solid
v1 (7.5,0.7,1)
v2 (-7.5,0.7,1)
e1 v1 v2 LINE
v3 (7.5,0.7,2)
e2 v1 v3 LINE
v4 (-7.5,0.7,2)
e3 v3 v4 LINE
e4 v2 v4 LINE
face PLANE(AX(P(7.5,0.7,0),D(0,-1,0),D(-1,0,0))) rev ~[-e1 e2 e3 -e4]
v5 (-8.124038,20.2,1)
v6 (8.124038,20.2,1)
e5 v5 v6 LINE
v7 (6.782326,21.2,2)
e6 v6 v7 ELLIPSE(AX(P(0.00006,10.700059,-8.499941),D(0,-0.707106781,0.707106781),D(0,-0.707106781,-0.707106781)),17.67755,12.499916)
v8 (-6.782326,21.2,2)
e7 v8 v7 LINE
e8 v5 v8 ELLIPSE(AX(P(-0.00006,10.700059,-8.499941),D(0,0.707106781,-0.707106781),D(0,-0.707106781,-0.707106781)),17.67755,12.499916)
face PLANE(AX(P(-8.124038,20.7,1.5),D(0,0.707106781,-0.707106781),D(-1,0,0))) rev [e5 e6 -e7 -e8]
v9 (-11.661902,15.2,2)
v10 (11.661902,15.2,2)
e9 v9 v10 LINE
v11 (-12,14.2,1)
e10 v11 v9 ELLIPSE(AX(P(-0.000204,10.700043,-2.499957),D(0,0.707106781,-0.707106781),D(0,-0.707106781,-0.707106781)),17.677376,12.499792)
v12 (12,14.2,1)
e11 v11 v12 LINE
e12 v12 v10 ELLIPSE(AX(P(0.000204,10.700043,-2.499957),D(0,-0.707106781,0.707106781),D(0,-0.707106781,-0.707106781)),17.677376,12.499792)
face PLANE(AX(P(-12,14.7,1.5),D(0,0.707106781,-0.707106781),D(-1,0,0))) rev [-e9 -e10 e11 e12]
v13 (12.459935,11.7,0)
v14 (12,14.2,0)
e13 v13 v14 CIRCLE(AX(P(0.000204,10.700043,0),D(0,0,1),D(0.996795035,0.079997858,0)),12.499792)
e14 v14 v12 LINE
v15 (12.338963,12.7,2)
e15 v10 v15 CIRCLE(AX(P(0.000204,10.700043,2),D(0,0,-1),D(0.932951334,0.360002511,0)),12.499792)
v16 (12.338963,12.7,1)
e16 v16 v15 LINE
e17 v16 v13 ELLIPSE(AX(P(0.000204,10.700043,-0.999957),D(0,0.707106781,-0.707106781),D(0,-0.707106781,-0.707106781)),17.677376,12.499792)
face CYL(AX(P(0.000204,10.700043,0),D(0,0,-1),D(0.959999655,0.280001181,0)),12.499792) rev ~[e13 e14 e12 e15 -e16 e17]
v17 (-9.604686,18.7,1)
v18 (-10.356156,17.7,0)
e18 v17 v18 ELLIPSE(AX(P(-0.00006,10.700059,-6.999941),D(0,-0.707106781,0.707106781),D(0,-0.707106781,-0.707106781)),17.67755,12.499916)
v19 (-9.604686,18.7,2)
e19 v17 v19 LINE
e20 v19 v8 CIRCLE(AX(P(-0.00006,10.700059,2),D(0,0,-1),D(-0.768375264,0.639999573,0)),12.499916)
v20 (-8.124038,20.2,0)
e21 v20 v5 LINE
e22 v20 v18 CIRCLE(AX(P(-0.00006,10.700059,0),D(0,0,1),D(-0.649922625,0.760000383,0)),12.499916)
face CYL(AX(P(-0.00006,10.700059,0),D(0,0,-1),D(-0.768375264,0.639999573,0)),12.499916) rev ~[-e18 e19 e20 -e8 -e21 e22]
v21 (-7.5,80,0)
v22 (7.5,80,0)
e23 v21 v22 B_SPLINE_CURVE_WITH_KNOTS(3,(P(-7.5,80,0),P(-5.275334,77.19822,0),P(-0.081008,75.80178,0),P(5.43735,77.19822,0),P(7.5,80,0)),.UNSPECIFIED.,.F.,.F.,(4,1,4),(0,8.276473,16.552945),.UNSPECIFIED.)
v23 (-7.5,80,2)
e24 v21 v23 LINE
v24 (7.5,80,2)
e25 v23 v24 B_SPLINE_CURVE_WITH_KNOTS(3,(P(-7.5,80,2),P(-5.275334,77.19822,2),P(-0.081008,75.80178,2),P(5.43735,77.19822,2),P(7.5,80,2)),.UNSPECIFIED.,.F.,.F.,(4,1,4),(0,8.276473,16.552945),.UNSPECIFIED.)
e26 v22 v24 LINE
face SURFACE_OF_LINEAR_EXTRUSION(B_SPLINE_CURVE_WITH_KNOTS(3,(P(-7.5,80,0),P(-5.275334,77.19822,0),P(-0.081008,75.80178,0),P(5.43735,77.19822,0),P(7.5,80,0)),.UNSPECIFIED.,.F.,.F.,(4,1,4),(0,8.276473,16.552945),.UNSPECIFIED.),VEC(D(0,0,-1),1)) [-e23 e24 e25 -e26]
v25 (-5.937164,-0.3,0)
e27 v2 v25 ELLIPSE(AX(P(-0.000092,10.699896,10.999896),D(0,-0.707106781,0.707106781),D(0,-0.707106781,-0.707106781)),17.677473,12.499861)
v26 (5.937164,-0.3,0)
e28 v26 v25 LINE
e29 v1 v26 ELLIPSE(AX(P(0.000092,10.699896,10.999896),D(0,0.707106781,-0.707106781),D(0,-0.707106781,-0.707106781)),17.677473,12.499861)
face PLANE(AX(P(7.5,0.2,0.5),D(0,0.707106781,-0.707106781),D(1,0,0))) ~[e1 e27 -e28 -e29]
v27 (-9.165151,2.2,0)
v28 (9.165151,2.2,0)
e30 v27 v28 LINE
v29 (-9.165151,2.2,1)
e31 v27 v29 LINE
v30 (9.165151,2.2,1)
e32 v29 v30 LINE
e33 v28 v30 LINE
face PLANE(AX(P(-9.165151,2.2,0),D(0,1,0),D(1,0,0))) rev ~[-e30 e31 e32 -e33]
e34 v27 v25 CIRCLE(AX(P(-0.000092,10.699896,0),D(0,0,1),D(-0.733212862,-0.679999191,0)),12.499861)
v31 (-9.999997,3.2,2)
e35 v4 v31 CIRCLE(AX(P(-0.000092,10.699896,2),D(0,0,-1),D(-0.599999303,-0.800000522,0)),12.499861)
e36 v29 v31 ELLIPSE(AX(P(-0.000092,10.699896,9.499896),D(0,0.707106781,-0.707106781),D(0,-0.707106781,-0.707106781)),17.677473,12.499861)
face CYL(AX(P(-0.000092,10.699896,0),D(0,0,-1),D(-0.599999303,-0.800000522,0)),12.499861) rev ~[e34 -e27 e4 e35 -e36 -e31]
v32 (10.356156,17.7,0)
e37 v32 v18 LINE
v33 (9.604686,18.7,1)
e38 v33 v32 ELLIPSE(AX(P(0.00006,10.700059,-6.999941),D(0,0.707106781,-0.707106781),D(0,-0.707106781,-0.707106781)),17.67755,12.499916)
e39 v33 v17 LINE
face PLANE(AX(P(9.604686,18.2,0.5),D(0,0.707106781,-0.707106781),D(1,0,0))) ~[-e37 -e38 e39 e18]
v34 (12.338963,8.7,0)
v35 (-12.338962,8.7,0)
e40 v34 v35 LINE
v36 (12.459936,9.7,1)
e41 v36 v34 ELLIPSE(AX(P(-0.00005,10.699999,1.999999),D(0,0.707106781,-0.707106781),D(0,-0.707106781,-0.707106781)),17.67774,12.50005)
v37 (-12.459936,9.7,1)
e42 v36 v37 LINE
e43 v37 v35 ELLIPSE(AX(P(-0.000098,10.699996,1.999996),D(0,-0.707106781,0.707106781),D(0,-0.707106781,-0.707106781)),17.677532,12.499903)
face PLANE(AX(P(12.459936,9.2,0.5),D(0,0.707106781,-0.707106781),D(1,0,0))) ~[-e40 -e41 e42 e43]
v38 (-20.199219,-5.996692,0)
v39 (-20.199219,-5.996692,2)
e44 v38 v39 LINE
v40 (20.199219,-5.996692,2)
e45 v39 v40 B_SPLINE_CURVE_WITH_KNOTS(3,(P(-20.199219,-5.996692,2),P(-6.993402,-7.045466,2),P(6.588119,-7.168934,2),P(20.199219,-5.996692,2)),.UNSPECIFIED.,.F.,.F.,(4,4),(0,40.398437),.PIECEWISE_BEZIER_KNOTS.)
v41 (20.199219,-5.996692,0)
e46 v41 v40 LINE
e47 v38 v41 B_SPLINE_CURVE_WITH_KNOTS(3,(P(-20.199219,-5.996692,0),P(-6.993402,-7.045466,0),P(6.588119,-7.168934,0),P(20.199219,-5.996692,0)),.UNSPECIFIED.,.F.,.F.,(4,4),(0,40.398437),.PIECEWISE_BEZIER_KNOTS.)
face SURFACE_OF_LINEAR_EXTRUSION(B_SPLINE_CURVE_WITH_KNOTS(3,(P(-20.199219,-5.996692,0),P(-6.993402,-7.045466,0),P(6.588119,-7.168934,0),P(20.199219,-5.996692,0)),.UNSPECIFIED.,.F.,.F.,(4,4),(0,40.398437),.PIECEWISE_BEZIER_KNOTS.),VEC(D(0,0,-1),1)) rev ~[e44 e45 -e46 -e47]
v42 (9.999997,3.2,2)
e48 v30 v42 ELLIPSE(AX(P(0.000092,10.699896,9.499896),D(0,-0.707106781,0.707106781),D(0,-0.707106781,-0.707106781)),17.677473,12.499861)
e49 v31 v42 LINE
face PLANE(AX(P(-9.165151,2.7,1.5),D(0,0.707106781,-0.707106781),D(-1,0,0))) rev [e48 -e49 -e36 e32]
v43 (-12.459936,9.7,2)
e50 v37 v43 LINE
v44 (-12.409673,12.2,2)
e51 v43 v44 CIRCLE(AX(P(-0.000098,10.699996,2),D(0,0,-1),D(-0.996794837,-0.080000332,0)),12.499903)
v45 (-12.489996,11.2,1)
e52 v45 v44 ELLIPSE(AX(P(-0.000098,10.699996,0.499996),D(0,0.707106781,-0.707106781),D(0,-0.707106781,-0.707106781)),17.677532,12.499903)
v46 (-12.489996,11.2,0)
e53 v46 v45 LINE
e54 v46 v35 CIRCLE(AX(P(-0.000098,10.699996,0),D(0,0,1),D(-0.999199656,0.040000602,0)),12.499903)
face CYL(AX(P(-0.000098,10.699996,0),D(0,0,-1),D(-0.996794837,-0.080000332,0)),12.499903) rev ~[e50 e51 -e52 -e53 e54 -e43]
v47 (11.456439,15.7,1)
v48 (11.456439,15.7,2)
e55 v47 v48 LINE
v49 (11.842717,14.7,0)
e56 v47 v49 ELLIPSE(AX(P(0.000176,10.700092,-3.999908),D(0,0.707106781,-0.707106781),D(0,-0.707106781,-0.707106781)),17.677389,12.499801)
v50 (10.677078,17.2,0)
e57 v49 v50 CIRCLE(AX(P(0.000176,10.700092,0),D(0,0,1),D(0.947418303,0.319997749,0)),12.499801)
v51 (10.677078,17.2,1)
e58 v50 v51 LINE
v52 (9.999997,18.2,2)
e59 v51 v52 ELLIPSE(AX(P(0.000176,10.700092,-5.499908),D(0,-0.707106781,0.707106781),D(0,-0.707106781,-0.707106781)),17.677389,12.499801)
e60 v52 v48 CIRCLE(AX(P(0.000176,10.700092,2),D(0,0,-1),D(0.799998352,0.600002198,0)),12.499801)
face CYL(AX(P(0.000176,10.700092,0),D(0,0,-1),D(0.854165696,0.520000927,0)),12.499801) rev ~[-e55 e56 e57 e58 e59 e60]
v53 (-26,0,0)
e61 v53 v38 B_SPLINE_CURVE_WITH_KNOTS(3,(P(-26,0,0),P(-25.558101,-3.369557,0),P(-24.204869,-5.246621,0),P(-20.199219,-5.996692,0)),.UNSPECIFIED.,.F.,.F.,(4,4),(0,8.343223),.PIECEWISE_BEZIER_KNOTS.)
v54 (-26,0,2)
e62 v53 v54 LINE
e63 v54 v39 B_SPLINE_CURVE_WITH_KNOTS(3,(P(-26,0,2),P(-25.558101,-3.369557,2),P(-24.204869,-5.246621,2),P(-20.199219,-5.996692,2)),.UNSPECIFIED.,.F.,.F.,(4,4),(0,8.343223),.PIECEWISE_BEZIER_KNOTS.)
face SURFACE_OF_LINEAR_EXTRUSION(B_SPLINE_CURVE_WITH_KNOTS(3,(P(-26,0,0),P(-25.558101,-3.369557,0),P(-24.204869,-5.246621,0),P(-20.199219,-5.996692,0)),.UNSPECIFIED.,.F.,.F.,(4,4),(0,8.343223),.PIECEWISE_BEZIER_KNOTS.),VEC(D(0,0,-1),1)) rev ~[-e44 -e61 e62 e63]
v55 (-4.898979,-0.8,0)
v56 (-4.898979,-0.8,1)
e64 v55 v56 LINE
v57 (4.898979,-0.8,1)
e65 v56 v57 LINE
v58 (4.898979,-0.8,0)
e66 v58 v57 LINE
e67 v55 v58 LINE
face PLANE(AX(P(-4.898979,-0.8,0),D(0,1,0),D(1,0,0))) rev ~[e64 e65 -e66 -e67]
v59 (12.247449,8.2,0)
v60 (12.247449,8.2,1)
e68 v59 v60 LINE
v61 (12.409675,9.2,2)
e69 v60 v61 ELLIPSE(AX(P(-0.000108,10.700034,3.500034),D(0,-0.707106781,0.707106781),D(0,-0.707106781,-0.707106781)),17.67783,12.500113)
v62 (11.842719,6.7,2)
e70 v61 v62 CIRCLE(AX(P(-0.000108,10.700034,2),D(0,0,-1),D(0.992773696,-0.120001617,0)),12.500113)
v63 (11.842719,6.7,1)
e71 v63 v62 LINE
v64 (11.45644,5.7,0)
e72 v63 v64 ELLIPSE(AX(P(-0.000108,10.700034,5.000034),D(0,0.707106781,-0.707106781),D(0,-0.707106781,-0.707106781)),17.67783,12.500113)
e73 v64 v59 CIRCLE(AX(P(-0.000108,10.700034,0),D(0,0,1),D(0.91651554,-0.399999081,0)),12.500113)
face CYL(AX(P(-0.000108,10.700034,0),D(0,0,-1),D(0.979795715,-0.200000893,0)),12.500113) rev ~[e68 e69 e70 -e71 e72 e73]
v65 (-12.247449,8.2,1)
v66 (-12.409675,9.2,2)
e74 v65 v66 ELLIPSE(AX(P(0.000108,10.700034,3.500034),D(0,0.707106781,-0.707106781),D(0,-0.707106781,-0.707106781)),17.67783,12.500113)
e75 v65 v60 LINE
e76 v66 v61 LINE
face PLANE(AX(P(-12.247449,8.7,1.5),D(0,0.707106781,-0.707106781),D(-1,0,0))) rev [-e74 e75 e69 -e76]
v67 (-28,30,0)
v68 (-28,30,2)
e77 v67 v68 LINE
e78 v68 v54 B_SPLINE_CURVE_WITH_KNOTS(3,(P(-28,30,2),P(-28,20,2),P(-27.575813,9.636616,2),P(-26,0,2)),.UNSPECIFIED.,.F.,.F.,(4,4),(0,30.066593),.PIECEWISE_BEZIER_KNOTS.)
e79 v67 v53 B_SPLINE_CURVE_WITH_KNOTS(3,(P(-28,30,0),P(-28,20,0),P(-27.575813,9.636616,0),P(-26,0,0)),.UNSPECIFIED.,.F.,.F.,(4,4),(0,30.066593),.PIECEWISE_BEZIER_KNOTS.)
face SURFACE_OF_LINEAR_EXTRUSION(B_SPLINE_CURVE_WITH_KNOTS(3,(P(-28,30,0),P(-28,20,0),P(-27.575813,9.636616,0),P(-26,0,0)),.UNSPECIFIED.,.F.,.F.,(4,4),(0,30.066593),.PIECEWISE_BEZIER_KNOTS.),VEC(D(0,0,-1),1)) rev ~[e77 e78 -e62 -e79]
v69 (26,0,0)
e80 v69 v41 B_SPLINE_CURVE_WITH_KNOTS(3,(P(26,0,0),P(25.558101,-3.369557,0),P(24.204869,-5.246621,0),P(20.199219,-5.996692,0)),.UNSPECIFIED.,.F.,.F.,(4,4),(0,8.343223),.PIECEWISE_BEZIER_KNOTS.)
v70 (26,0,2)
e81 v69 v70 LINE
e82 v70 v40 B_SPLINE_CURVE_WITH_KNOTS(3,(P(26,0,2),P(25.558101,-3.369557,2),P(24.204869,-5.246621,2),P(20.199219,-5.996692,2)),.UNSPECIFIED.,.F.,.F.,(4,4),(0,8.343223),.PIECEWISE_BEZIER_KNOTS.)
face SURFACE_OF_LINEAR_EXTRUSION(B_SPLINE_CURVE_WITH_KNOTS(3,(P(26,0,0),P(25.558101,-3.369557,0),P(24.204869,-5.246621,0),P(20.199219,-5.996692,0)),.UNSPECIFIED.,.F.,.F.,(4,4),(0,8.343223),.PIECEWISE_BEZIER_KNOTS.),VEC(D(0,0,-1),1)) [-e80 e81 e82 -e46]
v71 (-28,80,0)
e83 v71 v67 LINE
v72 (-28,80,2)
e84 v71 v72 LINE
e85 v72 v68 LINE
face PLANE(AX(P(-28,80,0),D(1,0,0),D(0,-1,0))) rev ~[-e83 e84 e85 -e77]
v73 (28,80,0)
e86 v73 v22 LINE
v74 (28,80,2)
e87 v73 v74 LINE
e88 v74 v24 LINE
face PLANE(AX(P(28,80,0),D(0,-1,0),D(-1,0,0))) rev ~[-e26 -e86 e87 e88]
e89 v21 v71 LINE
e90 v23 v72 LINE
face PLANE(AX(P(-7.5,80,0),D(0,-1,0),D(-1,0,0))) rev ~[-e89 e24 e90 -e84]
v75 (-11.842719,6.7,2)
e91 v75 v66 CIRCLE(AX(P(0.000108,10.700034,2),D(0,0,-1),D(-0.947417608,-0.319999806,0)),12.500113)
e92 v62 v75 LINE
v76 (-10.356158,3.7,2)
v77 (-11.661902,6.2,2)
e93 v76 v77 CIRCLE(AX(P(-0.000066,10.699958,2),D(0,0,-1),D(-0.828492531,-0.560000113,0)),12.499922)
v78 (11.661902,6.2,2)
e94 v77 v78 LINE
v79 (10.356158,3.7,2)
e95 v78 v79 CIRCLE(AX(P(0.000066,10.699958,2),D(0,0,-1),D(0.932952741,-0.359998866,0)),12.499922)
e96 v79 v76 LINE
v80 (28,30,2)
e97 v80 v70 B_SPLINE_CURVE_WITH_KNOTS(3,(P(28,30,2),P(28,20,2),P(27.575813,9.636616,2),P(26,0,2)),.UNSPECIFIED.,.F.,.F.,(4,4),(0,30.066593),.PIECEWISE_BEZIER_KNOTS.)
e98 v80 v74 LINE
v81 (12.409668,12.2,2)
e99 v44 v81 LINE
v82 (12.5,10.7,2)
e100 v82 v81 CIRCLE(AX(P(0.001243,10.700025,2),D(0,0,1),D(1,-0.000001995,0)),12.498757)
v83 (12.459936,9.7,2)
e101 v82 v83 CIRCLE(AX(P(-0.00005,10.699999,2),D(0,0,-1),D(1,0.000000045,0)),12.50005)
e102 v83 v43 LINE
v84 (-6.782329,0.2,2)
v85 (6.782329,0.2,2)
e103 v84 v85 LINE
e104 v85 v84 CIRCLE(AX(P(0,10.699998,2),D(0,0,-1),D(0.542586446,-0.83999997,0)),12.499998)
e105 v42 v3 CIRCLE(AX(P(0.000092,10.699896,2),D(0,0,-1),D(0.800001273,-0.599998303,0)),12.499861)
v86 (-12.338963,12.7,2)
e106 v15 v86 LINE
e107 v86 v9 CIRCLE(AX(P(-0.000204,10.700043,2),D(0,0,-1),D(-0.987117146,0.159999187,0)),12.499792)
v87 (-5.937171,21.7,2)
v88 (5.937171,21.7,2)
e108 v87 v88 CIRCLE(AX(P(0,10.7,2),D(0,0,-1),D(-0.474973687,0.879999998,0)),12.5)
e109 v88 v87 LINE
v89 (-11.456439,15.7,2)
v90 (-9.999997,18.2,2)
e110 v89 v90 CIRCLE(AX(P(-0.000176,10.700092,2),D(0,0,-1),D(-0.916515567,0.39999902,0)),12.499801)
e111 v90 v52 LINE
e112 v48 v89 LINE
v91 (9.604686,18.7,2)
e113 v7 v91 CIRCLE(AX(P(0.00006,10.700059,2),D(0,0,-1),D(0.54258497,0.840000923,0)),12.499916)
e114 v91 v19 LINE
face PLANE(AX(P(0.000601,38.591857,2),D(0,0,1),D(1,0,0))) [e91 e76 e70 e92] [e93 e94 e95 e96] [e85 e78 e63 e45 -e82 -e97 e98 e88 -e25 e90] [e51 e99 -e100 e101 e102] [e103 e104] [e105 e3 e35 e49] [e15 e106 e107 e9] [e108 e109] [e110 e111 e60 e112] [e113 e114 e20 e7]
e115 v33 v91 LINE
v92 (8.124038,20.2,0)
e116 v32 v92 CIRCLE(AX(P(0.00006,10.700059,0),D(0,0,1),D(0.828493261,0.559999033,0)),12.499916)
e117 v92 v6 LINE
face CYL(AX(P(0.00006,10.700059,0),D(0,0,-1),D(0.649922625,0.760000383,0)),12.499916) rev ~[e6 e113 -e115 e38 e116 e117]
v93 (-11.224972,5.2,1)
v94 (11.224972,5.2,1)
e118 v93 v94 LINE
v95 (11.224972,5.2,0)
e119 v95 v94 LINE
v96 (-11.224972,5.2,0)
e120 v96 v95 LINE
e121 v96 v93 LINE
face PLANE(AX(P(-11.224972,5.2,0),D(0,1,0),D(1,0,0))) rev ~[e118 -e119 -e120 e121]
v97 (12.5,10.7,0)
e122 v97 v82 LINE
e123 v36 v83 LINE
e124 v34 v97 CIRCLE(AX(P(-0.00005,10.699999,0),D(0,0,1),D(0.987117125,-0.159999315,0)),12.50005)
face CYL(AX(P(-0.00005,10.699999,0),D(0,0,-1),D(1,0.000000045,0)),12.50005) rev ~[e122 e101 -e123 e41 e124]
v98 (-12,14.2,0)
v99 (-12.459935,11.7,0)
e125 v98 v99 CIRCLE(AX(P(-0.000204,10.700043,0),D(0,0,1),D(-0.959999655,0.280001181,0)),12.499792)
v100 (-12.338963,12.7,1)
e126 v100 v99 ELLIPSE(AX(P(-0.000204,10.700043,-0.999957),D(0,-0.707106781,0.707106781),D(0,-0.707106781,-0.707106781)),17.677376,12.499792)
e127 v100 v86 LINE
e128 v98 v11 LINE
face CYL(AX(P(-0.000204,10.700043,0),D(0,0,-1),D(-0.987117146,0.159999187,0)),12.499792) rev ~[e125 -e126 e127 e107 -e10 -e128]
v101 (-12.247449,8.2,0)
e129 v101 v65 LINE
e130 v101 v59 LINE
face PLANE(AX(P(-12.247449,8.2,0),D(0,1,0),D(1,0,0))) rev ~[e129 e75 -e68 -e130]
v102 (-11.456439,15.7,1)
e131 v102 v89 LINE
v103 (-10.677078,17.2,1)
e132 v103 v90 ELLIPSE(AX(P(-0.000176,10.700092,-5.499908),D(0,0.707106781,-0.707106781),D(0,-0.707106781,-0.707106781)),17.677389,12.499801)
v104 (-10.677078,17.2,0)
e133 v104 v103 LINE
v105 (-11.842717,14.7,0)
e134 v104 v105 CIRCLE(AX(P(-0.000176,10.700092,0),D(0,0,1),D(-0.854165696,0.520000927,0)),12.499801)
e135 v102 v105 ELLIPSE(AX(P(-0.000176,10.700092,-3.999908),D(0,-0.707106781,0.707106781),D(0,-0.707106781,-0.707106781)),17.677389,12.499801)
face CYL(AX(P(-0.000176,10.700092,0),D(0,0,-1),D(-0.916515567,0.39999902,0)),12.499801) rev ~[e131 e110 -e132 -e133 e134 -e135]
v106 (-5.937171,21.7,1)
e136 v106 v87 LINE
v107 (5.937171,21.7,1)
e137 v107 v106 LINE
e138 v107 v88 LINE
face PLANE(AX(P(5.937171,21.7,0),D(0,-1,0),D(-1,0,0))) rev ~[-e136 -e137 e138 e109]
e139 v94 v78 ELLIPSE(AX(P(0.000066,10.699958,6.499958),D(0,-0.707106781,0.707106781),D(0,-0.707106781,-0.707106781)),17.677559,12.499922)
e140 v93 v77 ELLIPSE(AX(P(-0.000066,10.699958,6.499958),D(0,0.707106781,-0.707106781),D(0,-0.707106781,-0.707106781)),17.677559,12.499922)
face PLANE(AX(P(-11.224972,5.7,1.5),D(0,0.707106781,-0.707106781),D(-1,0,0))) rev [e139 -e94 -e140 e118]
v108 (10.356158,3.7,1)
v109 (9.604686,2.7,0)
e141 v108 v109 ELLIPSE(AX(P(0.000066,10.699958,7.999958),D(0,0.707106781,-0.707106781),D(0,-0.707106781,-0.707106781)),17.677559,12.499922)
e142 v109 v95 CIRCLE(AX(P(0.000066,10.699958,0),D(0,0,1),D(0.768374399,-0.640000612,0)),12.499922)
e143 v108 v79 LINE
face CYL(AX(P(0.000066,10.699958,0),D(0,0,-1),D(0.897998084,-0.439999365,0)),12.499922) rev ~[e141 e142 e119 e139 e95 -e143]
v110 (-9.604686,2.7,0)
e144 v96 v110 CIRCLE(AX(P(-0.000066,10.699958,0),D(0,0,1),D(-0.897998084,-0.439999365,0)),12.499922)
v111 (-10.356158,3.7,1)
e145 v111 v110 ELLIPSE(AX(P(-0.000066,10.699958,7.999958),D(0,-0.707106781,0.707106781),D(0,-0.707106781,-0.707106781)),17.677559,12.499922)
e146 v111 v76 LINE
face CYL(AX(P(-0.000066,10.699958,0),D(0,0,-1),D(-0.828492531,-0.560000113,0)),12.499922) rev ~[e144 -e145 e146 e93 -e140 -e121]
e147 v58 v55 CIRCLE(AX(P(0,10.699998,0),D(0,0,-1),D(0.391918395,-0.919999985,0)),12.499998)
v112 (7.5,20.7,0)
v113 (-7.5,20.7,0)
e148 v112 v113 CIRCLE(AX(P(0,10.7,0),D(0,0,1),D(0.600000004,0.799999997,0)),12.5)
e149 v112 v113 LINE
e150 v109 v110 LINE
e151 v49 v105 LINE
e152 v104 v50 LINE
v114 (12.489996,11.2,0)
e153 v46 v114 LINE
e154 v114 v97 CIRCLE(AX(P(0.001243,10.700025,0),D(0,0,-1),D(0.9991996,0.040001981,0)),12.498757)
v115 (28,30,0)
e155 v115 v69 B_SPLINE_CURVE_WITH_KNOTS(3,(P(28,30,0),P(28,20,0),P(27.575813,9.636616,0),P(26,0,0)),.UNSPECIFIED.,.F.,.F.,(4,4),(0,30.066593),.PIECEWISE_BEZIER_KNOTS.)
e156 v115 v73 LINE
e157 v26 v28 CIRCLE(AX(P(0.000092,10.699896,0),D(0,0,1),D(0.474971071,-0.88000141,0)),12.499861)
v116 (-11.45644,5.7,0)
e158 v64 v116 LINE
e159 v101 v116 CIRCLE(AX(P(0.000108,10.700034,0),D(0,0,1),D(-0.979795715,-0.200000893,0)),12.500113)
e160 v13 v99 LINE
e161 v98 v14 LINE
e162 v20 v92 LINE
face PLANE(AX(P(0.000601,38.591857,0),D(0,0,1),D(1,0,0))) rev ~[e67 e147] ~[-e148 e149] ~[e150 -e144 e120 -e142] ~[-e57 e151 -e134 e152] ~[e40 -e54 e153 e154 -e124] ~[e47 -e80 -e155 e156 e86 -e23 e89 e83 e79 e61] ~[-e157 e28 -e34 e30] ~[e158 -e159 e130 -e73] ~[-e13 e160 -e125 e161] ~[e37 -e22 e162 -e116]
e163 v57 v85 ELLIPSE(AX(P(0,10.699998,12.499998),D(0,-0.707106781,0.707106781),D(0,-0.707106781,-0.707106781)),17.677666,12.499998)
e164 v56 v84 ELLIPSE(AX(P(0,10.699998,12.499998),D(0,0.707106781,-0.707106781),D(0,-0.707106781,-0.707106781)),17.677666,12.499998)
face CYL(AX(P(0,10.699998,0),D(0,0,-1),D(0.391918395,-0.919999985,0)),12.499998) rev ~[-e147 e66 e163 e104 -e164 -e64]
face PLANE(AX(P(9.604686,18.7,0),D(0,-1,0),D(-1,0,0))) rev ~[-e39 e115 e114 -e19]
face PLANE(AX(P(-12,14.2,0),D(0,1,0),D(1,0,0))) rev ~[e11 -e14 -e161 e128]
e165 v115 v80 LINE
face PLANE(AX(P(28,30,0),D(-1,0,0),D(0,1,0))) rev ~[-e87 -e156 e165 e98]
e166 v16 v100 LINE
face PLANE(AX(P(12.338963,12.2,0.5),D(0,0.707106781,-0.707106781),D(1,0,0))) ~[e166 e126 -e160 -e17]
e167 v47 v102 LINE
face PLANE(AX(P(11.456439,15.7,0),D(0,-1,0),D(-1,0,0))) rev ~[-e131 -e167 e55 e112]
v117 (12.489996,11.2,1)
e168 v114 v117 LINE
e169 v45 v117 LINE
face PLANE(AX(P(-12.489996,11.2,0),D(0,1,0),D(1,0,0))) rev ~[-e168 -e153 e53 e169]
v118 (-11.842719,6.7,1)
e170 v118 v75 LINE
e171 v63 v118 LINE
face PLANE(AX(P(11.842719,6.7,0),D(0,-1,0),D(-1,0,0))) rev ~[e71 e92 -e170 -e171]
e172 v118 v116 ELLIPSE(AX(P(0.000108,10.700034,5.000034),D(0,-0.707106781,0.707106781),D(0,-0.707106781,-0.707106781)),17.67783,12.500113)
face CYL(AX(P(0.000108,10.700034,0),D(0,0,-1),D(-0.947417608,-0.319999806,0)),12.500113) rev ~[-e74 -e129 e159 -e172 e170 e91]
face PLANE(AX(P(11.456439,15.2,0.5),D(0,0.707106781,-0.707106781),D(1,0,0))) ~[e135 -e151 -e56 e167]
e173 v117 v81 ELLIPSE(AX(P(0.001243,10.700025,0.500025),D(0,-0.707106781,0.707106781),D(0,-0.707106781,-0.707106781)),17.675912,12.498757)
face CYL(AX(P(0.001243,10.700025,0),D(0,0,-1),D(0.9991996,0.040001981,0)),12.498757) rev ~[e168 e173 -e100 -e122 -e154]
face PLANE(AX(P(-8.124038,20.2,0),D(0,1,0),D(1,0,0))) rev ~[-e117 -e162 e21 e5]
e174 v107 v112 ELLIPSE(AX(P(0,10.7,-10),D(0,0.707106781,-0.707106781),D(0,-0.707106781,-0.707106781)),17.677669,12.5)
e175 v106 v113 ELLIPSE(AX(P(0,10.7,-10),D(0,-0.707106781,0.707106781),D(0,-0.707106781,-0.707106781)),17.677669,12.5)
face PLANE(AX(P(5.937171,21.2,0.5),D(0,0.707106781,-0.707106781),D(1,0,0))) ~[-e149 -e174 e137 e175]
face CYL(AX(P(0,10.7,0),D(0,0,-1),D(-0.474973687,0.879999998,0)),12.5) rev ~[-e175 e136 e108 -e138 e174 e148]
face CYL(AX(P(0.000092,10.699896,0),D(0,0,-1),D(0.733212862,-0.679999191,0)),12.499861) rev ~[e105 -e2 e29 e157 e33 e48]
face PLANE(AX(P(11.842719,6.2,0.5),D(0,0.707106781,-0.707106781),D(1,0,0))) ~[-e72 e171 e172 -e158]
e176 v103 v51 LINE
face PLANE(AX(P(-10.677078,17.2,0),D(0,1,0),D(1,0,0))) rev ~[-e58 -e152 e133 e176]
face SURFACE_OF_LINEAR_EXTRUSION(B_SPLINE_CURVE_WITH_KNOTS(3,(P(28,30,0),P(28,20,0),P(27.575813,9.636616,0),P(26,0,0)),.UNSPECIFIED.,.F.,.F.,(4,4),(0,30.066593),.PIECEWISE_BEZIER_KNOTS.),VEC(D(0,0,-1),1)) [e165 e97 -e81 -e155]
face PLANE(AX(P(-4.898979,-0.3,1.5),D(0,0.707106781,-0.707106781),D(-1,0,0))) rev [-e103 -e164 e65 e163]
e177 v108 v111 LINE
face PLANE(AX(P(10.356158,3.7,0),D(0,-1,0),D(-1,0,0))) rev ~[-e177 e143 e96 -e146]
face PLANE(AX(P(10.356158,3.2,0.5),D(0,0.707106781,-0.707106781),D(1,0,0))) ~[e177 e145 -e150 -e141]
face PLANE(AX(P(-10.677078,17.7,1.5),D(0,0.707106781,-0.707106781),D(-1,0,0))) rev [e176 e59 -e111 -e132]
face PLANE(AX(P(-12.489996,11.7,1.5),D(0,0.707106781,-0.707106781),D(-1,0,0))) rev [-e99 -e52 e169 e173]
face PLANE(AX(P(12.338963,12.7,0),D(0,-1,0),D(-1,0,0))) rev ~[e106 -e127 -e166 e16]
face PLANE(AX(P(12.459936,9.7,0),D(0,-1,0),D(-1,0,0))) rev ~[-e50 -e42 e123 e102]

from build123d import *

# Parameters (mm, degrees)
F1_DEPTH = 2
F2_SIZE  = 1


with BuildPart() as f1:
    # F0 (on Top) → F1 (new body)
    with BuildSketch(Plane.XY):
        with BuildLine():
            Line((-7.5, 80), (-28, 80))
            Line((-28, 80), (-28, 30))
            add(Edge.make_bspline(
                [(-28, 30), (-28, 20), (-27.575813, 9.636616), (-26, 0)],
                knots=[0, 0, 0, 0, 30.066593, 30.066593, 30.066593, 30.066593], degree=3))
            add(Edge.make_bspline(
                [(-26, 0), (-25.558101, -3.369557), (-24.204869, -5.246621), (-20.199219, -5.996692)],
                knots=[0, 0, 0, 0, 8.343223, 8.343223, 8.343223, 8.343223], degree=3))
            add(Edge.make_bspline(
                [(-20.199219, -5.996692), (-6.993402, -7.045466), (6.588119, -7.168934), (20.199219, -5.996692)],
                knots=[0, 0, 0, 0, 40.398437, 40.398437, 40.398437, 40.398437], degree=3))
            add(Edge.make_bspline(
                [(26, 0), (25.558101, -3.369557), (24.204869, -5.246621), (20.199219, -5.996692)],
                knots=[0, 0, 0, 0, 8.343223, 8.343223, 8.343223, 8.343223], degree=3))
            add(Edge.make_bspline(
                [(28, 30), (28, 20), (27.575813, 9.636616), (26, 0)],
                knots=[0, 0, 0, 0, 30.066593, 30.066593, 30.066593, 30.066593], degree=3))
            Line((28, 30), (28, 80))
            Line((28, 80), (7.5, 80))
            add(Edge.make_bspline(
                [(-7.5, 80), (-5.275334, 77.19822), (-0.081008, 75.80178), (5.43735, 77.19822), (7.5, 80)],
                knots=[0, 0, 0, 0, 8.276473, 16.552945, 16.552945, 16.552945, 16.552945], degree=3))
        make_face()
        with BuildLine():
            ThreePointArc((12.489996, 11.2), (12.497499, 10.95005), (12.5, 10.7))
            ThreePointArc((12.5, 10.7), (12.48998, 10.199599), (12.459936, 9.7))
            ThreePointArc((12.459936, 9.7), (12.376438, 8.946778), (12.247449, 8.2))
            ThreePointArc((12.247449, 8.2), (12.068411, 7.443706), (11.842719, 6.7))
            ThreePointArc((11.842719, 6.7), (11.558205, 5.939968), (11.224972, 5.2))
            ThreePointArc((11.224972, 5.2), (10.816598, 4.434921), (10.356158, 3.7))
            ThreePointArc((10.356158, 3.7), (9.789427, 2.927155), (9.165151, 2.2))
            ThreePointArc((9.165151, 2.2), (8.366261, 1.412606), (7.5, 0.7))
            ThreePointArc((7.5, 0.7), (6.244692, -0.128381), (4.898979, -0.8))
            ThreePointArc((4.898979, -0.8), (0, -1.8), (-4.898979, -0.8))
            ThreePointArc((-4.898979, -0.8), (-6.244692, -0.128381), (-7.5, 0.7))
            ThreePointArc((-7.5, 0.7), (-8.366261, 1.412606), (-9.165151, 2.2))
            ThreePointArc((-9.165151, 2.2), (-9.789427, 2.927155), (-10.356158, 3.7))
            ThreePointArc((-10.356158, 3.7), (-10.816598, 4.434921), (-11.224972, 5.2))
            ThreePointArc((-11.224972, 5.2), (-11.558205, 5.939968), (-11.842719, 6.7))
            ThreePointArc((-11.842719, 6.7), (-12.068411, 7.443706), (-12.247449, 8.2))
            ThreePointArc((-12.247449, 8.2), (-12.376438, 8.946778), (-12.459936, 9.7))
            ThreePointArc((-12.459936, 9.7), (-12.497491, 10.449549), (-12.489996, 11.2))
            ThreePointArc((-12.489996, 11.2), (-12.437114, 11.952279), (-12.338963, 12.7))
            ThreePointArc((-12.338963, 12.7), (-12.192571, 13.455218), (-12, 14.2))
            ThreePointArc((-12, 14.2), (-11.752176, 14.958681), (-11.456439, 15.7))
            ThreePointArc((-11.456439, 15.7), (-11.092144, 16.463189), (-10.677078, 17.2))
            ThreePointArc((-10.677078, 17.2), (-10.168579, 17.969801), (-9.604686, 18.7))
            ThreePointArc((-9.604686, 18.7), (-8.896034, 19.481263), (-8.124038, 20.2))
            ThreePointArc((-8.124038, 20.2), (-7.070495, 21.008157), (-5.937171, 21.7))
            ThreePointArc((-5.937171, 21.7), (0, 23.2), (5.937171, 21.7))
            ThreePointArc((5.937171, 21.7), (7.070495, 21.008157), (8.124038, 20.2))
            ThreePointArc((8.124038, 20.2), (8.896034, 19.481263), (9.604686, 18.7))
            ThreePointArc((9.604686, 18.7), (10.168579, 17.969801), (10.677078, 17.2))
            ThreePointArc((10.677078, 17.2), (11.092144, 16.463189), (11.456439, 15.7))
            ThreePointArc((11.456439, 15.7), (11.752176, 14.958681), (12, 14.2))
            ThreePointArc((12, 14.2), (12.192571, 13.455218), (12.338963, 12.7))
            ThreePointArc((12.338963, 12.7), (12.437114, 11.952279), (12.489996, 11.2))
        make_face(mode=Mode.SUBTRACT)
        with BuildLine():
            Line((-8.124038, 20.2), (8.124038, 20.2))
            ThreePointArc((8.124038, 20.2), (7.070495, 21.008157), (5.937171, 21.7))
            Line((5.937171, 21.7), (-5.937171, 21.7))
            ThreePointArc((-5.937171, 21.7), (-7.070495, 21.008157), (-8.124038, 20.2))
        make_face()
        with BuildLine():
            Line((-10.677078, 17.2), (10.677078, 17.2))
            ThreePointArc((10.677078, 17.2), (10.168579, 17.969801), (9.604686, 18.7))
            Line((9.604686, 18.7), (-9.604686, 18.7))
            ThreePointArc((-9.604686, 18.7), (-10.168579, 17.969801), (-10.677078, 17.2))
        make_face()
        with BuildLine():
            Line((-12, 14.2), (12, 14.2))
            ThreePointArc((12, 14.2), (11.752176, 14.958681), (11.456439, 15.7))
            Line((11.456439, 15.7), (-11.456439, 15.7))
            ThreePointArc((-11.456439, 15.7), (-11.752176, 14.958681), (-12, 14.2))
        make_face()
        with BuildLine():
            Line((-12.489996, 11.2), (12.489996, 11.2))
            ThreePointArc((12.489996, 11.2), (12.437114, 11.952279), (12.338963, 12.7))
            Line((12.338963, 12.7), (-12.338963, 12.7))
            ThreePointArc((-12.338963, 12.7), (-12.437114, 11.952279), (-12.489996, 11.2))
        make_face()
        with BuildLine():
            ThreePointArc((12.247449, 8.2), (12.376438, 8.946778), (12.459936, 9.7))
            Line((12.459936, 9.7), (-12.459936, 9.7))
            ThreePointArc((-12.459936, 9.7), (-12.376438, 8.946778), (-12.247449, 8.2))
            Line((-12.247449, 8.2), (12.247449, 8.2))
        make_face()
        with BuildLine():
            ThreePointArc((11.224972, 5.2), (11.558205, 5.939968), (11.842719, 6.7))
            Line((11.842719, 6.7), (-11.842719, 6.7))
            ThreePointArc((-11.842719, 6.7), (-11.558205, 5.939968), (-11.224972, 5.2))
            Line((-11.224972, 5.2), (11.224972, 5.2))
        make_face()
        with BuildLine():
            ThreePointArc((9.165151, 2.2), (9.789427, 2.927155), (10.356158, 3.7))
            Line((10.356158, 3.7), (-10.356158, 3.7))
            ThreePointArc((-10.356158, 3.7), (-9.789427, 2.927155), (-9.165151, 2.2))
            Line((-9.165151, 2.2), (9.165151, 2.2))
        make_face()
        with BuildLine():
            ThreePointArc((4.898979, -0.8), (6.244692, -0.128381), (7.5, 0.7))
            Line((7.5, 0.7), (-7.5, 0.7))
            ThreePointArc((-7.5, 0.7), (-6.244692, -0.128381), (-4.898979, -0.8))
            Line((-4.898979, -0.8), (4.898979, -0.8))
        make_face()
    extrude(amount=F1_DEPTH)

    # F2
    f2_edges = [f1.edges().sort_by_distance(p)[0] for p in [
        (0, 21.7, 0),
        (0, 18.7, 0),
        (0, 15.7, 0),
        (0, 12.7, 0),
        (0, 9.7, 0),
        (0, 6.7, 0),
        (0, 3.7, 0),
        (0, 0.7, 0),
        (0, 20.2, 2),
        (0, 17.2, 2),
        (0, 14.2, 2),
        (0, 11.2, 2),
        (0, 8.2, 2),
        (0, 5.2, 2),
        (0, -0.8, 2),
        (0, 2.2, 2),
    ]]
    chamfer(f2_edges, length=F2_SIZE)


solid = f1.part
